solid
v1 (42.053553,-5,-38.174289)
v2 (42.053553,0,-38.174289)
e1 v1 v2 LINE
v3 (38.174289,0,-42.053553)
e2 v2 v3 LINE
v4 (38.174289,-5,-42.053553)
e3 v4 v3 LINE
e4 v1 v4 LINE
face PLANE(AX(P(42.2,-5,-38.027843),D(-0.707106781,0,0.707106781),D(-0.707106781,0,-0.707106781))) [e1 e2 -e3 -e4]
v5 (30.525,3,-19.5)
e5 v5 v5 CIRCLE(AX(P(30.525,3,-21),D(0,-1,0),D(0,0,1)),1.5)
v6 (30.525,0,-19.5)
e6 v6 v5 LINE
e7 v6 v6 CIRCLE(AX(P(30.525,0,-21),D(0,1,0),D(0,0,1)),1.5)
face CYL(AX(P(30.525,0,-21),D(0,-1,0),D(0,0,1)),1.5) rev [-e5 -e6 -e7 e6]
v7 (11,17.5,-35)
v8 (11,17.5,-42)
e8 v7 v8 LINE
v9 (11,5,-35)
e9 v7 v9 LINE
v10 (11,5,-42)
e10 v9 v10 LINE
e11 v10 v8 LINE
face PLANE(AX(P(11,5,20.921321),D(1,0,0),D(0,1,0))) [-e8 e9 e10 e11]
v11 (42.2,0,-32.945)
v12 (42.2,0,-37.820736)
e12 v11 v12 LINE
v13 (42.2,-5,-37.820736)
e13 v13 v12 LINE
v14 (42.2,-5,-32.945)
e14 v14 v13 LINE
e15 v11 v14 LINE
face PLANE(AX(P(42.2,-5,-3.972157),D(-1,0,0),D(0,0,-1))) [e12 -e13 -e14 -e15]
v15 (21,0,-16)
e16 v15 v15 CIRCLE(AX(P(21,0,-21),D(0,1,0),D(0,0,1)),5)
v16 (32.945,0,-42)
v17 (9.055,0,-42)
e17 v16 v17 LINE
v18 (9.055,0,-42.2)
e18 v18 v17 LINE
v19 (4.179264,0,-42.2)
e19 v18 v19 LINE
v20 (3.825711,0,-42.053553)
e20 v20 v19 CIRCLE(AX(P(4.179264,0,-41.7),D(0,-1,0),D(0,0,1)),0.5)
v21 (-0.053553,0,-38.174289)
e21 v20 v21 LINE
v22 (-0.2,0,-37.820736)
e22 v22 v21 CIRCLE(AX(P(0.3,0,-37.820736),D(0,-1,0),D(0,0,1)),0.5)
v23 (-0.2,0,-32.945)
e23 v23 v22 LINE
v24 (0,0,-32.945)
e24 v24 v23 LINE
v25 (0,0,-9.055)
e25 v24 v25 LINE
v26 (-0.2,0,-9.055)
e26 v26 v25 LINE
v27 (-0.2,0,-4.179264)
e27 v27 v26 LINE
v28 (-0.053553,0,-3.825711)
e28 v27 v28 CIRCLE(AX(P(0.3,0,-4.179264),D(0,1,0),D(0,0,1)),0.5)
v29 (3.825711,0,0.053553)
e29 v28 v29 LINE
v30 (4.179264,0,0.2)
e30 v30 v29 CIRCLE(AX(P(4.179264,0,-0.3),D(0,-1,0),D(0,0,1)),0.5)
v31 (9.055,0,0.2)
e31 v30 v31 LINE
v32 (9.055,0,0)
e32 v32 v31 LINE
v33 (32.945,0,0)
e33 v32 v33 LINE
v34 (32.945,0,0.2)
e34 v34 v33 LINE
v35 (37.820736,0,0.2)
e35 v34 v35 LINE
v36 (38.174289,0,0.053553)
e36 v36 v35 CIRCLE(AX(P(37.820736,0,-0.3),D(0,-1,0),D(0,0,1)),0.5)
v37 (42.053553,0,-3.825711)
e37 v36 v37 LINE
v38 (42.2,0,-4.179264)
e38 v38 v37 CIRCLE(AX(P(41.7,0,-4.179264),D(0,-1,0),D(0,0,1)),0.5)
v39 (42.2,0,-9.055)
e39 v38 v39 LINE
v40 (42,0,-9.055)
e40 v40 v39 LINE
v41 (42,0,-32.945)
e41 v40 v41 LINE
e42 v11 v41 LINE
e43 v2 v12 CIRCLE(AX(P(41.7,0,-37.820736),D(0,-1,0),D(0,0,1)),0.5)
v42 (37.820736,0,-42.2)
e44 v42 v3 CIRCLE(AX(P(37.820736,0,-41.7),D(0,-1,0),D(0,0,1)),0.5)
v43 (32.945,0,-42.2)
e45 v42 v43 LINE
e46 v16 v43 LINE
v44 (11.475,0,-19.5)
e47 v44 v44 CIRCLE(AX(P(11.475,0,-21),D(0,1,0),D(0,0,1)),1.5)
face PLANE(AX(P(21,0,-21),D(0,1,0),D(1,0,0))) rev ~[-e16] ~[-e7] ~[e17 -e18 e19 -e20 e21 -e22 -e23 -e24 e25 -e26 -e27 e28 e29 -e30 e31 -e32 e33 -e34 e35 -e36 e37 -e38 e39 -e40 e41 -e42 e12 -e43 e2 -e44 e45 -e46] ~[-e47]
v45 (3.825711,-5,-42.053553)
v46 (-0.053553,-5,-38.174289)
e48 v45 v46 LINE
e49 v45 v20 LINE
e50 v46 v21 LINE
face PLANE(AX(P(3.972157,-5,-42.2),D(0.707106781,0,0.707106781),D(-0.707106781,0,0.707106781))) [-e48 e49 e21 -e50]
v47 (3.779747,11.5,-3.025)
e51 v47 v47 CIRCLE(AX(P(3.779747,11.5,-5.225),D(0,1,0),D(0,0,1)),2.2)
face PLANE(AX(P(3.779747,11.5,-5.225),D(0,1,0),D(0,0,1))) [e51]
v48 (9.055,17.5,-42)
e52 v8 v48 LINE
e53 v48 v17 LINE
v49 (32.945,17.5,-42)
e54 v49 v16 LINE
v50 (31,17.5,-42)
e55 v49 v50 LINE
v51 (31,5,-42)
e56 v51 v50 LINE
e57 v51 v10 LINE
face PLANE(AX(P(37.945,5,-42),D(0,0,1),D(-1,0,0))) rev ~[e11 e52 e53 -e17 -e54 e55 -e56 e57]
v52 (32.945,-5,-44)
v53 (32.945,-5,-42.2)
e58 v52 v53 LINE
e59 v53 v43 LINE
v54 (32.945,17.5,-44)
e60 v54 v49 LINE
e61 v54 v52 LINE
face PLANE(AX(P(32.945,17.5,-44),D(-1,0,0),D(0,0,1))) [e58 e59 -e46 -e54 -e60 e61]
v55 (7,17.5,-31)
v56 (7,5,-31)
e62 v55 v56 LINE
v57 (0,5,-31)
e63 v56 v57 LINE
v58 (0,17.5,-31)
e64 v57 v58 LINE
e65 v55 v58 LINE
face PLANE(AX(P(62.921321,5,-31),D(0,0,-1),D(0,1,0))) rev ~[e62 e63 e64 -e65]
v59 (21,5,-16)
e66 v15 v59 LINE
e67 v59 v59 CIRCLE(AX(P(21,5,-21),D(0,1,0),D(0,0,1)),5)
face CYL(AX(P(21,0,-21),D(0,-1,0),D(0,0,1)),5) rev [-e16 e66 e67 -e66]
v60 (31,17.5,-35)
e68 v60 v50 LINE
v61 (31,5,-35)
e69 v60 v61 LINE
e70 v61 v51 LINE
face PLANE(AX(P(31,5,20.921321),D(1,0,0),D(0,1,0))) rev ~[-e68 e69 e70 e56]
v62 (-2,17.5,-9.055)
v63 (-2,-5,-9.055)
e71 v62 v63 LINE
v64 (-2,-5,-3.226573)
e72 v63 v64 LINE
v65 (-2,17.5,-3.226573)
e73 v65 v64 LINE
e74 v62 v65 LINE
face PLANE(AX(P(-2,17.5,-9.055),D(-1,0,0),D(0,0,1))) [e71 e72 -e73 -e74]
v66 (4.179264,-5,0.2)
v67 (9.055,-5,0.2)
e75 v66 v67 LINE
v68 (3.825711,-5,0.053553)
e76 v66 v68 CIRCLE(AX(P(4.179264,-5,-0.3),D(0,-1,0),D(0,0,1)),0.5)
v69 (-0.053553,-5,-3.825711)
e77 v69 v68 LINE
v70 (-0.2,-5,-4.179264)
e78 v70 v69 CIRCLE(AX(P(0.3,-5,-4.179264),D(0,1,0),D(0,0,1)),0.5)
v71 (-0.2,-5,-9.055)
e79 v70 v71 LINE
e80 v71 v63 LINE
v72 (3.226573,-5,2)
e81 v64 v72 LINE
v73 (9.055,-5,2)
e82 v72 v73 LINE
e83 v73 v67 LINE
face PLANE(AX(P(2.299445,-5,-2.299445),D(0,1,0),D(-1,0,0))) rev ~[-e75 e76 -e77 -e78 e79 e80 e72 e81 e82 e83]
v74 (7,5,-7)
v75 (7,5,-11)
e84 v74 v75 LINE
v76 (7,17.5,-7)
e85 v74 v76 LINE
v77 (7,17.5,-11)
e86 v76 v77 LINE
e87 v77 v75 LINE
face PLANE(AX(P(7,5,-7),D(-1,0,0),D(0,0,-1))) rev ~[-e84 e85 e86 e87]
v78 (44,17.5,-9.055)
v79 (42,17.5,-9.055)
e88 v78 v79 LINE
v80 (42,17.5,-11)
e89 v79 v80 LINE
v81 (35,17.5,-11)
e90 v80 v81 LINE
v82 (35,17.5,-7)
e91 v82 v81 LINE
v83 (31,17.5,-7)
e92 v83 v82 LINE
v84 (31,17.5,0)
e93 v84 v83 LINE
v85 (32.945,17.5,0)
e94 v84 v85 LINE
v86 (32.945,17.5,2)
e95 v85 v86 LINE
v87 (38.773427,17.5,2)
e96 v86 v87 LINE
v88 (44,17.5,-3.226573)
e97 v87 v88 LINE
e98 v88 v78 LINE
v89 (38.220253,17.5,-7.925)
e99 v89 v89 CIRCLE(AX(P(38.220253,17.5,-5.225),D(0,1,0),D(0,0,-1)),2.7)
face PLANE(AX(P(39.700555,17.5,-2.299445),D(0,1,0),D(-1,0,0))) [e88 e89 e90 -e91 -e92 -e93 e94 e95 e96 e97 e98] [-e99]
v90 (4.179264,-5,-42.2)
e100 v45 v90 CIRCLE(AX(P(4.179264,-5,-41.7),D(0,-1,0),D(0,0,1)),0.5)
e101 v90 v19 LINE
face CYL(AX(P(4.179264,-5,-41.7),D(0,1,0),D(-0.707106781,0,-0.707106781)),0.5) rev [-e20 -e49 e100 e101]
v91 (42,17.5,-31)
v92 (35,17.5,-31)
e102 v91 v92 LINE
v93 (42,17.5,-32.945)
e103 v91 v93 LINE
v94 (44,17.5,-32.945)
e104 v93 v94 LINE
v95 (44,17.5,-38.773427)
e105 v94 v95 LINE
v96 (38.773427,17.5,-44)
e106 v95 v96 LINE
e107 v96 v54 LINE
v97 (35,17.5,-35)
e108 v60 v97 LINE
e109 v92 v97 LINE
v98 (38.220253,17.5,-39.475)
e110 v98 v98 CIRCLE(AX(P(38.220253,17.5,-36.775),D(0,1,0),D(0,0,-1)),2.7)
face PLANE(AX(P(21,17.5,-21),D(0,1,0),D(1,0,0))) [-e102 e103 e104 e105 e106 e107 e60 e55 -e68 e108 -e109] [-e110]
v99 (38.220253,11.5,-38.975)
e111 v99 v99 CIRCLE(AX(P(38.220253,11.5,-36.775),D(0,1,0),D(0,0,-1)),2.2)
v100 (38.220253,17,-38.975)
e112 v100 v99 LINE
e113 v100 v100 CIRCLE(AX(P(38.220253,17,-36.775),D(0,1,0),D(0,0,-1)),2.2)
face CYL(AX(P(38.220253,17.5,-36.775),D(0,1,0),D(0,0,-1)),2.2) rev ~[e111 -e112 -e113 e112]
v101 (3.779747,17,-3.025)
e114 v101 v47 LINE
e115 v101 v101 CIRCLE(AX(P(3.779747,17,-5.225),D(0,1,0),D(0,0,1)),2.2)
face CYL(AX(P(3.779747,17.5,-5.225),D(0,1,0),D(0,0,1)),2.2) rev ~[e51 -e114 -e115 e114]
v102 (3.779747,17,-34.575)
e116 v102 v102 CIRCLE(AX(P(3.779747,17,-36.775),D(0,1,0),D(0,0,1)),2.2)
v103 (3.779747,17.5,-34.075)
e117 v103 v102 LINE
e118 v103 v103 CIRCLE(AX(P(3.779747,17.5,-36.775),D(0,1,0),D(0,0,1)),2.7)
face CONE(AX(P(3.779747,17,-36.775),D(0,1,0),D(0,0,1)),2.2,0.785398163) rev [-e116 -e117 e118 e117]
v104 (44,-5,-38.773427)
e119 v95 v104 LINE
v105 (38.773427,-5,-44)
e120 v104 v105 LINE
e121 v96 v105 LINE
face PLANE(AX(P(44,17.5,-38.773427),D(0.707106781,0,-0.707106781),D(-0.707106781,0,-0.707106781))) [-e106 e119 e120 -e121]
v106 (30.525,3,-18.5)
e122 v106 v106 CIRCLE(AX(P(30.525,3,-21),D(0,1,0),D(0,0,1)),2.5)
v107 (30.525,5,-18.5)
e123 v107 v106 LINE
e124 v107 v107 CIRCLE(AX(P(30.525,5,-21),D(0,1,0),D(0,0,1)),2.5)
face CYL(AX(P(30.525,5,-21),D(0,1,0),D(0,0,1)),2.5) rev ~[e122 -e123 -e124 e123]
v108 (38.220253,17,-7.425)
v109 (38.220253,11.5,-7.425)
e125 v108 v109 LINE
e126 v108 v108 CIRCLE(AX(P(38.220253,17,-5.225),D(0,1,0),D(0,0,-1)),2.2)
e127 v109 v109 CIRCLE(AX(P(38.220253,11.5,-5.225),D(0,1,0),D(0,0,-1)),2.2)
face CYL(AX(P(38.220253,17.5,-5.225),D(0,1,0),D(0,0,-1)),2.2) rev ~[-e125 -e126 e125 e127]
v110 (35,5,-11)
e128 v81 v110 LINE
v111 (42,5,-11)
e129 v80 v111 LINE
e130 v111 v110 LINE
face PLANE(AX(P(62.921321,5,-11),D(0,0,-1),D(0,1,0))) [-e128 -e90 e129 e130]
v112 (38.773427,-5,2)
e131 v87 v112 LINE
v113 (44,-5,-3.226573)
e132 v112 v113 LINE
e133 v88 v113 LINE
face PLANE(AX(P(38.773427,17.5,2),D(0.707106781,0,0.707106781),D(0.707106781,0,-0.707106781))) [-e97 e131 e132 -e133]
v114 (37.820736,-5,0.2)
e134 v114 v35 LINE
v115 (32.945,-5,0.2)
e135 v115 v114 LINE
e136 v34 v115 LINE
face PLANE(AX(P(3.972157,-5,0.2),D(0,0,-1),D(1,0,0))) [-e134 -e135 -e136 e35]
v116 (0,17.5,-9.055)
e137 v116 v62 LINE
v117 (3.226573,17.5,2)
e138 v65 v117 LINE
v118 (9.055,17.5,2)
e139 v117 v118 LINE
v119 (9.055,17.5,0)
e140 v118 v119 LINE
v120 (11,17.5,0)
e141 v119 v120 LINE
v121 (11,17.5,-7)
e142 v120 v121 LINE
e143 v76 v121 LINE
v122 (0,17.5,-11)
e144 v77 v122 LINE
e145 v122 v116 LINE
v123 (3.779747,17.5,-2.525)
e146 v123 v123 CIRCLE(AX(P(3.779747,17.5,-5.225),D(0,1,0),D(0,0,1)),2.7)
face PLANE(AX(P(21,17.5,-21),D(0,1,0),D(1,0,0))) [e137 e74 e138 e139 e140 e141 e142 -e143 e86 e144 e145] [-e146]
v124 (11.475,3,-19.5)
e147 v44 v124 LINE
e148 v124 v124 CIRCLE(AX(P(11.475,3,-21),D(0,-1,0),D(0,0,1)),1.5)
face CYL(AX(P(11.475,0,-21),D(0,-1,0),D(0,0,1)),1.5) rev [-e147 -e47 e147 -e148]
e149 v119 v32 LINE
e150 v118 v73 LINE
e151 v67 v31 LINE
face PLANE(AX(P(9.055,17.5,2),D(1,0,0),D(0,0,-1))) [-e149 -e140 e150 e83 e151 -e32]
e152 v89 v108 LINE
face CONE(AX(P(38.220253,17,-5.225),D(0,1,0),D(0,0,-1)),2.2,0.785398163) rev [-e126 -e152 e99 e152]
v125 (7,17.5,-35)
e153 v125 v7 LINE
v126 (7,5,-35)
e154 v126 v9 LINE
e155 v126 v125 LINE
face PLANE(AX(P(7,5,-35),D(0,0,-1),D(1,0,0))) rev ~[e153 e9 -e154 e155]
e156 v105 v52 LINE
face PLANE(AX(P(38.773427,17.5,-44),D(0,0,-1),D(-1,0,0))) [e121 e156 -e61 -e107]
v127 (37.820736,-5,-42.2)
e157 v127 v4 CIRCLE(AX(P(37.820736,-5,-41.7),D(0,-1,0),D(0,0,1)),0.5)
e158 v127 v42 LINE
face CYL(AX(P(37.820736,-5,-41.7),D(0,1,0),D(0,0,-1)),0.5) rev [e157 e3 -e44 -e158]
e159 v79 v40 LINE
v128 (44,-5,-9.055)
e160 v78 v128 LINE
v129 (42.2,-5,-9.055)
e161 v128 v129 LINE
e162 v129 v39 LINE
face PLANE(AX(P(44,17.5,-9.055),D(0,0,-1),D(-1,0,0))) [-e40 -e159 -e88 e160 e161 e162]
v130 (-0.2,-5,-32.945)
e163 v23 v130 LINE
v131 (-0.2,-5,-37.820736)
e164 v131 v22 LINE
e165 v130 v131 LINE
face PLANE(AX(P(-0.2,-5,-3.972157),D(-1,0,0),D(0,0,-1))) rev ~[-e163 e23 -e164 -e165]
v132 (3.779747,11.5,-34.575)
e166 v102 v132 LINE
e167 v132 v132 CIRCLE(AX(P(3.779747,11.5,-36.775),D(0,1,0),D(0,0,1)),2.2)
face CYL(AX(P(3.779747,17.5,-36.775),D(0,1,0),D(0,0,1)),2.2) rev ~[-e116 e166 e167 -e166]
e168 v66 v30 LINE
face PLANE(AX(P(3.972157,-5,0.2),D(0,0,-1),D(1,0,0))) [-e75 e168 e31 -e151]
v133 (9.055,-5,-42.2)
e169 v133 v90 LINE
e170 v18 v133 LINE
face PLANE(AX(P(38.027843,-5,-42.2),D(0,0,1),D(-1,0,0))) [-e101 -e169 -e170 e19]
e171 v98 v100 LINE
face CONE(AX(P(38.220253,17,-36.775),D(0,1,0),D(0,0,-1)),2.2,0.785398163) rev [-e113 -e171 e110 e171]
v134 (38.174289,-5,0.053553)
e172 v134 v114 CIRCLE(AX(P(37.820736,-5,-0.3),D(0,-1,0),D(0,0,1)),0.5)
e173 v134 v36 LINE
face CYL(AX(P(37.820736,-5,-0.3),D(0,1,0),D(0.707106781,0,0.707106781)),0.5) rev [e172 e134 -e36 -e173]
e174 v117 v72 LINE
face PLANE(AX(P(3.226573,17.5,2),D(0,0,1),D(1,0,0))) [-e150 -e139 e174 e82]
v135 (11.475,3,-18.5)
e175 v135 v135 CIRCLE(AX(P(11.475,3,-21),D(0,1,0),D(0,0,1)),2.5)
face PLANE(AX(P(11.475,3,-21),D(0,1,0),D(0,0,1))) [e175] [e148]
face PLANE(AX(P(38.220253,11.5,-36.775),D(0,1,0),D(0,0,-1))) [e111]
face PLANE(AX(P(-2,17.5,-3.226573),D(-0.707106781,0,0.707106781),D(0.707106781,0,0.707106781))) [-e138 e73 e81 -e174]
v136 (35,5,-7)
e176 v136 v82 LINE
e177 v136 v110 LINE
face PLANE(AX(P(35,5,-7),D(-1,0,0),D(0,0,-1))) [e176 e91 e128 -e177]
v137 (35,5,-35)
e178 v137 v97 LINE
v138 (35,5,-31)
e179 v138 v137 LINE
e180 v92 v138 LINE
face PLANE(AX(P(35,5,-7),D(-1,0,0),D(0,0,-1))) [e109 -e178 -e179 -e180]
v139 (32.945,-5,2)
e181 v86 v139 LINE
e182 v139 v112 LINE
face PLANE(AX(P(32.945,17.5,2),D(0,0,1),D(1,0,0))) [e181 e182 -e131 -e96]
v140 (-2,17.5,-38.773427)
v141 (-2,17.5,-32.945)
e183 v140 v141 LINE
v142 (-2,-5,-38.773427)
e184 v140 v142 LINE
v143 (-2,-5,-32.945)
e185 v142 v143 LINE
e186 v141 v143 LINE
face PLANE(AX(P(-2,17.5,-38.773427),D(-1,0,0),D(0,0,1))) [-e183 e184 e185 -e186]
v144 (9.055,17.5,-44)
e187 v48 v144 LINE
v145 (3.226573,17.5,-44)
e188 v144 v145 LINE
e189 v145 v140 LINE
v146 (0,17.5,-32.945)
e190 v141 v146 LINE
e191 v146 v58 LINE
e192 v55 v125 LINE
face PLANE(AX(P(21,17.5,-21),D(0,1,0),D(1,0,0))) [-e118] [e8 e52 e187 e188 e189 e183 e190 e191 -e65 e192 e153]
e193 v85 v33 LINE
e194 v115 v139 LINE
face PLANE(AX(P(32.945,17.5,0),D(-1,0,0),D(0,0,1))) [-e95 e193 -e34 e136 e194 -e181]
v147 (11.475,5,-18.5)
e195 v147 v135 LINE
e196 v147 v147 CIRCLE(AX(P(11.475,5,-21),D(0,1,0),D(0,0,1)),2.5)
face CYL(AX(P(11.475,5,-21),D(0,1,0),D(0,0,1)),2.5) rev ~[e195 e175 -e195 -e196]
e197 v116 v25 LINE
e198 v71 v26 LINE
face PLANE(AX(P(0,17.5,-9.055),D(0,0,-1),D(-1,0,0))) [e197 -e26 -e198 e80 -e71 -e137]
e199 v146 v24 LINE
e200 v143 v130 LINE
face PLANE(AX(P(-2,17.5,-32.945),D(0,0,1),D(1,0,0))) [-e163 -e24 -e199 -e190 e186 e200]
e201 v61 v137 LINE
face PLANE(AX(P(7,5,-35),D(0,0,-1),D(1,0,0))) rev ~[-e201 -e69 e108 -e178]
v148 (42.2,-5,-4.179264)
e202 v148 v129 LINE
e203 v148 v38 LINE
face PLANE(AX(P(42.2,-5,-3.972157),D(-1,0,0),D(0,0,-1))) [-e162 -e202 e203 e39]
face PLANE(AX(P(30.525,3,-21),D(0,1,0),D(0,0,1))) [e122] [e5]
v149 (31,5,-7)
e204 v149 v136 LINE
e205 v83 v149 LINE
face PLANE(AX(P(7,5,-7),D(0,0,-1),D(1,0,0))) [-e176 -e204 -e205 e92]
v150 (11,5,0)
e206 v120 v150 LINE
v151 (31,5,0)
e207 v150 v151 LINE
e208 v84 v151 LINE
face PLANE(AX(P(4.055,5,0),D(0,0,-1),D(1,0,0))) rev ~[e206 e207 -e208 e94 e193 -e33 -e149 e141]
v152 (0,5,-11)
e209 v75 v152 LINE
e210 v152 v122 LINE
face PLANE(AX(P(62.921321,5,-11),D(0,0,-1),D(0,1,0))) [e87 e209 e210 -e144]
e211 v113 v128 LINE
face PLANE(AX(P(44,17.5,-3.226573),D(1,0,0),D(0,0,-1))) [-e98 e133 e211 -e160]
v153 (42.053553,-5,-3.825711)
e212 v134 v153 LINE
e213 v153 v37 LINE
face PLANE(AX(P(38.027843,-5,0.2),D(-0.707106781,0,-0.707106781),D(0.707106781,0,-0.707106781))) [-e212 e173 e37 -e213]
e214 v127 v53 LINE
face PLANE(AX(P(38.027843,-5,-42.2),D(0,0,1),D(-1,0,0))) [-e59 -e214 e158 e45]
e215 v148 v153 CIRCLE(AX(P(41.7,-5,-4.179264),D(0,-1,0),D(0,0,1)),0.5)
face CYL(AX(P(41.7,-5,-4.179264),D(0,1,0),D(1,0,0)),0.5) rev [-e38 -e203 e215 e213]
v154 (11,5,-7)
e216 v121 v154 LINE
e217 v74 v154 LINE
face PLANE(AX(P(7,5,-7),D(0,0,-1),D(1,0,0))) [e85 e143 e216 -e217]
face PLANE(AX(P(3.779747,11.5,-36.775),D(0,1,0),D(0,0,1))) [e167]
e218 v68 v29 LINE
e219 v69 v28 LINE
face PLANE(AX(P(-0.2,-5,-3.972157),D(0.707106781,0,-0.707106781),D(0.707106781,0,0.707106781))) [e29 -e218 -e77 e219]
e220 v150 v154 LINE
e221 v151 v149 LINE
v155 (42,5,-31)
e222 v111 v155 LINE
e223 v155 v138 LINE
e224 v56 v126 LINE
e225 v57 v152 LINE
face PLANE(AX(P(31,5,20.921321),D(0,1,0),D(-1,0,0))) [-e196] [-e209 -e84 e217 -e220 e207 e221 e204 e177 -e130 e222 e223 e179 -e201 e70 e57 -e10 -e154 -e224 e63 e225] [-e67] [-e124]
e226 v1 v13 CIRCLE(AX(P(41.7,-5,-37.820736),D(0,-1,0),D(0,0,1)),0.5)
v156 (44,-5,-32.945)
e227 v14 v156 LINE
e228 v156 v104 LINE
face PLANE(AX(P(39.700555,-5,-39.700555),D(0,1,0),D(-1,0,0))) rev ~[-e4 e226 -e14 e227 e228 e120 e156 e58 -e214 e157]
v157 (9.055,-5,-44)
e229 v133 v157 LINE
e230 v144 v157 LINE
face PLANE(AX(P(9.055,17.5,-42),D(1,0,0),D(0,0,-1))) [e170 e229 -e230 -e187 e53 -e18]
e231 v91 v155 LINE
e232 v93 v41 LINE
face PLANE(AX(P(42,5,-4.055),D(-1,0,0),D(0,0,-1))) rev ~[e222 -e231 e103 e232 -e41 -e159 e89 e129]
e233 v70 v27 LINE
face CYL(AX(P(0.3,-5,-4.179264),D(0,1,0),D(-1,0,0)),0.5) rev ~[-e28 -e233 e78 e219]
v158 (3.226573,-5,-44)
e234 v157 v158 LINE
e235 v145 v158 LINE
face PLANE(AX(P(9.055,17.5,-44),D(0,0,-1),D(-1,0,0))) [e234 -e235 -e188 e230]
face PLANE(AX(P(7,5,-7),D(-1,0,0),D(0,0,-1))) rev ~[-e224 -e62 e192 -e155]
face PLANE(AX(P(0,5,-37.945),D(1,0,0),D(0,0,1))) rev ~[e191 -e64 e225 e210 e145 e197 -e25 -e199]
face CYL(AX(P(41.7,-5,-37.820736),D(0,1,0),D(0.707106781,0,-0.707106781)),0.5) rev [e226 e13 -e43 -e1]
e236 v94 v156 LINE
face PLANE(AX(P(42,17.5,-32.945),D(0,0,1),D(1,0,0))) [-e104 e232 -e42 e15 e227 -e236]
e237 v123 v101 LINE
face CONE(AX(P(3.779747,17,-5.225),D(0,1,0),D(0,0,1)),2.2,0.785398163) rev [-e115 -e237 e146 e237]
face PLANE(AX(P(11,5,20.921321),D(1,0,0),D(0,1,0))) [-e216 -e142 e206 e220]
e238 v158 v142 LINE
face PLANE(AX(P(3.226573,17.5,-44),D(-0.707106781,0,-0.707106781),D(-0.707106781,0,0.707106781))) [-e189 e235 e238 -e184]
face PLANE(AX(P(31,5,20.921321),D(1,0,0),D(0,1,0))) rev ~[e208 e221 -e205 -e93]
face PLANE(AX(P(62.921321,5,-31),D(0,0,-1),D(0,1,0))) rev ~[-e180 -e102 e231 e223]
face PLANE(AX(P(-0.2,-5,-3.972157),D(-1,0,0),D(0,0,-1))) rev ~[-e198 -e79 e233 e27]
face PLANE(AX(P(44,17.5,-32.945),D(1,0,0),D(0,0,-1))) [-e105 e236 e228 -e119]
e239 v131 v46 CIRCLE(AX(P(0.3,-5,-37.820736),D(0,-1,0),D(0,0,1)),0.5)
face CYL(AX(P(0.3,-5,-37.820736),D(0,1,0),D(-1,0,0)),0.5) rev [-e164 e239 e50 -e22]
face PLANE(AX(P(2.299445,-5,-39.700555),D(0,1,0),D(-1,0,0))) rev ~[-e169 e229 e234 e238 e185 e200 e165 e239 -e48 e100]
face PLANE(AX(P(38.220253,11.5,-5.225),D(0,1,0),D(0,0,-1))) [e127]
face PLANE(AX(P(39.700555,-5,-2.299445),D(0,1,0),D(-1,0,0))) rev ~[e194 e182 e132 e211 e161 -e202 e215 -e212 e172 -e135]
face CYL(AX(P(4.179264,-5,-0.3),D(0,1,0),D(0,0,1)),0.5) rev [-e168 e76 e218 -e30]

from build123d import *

# Parameters (mm, degrees)
SKETCH1_R               = 1.5
SKETCH1_R_2             = 5
BOSS_EXTRUDE1_DEPTH     = 5
SKETCH2_W               = 28
SKETCH2_H               = 28
BOSS_EXTRUDE2_DEPTH     = 12.5
SKETCH3_R               = 2.2
CUT_EXTRUDE1_DEPTH      = 6
CUT_EXTRUDE2_DEPTH      = 62.921321045
CUT_EXTRUDE2_DEPTH_BACK = 62.921321045
SKETCH4_W               = 20
SKETCH4_H               = 23.078544061
CUT_EXTRUDE3_DEPTH      = 62.921321045
CUT_EXTRUDE3_DEPTH_BACK = 62.921321045
SKETCH5_W               = 20
SKETCH5_H               = 13.366359074
BOSS_EXTRUDE3_START     = -17.5
BOSS_EXTRUDE3_DEPTH     = 22.5
SKETCH8_R               = 2.5
CUT_EXTRUDE4_DEPTH      = 2
CUT_EXTRUDE5_DEPTH      = 5
FILLET1_R               = 0.5
CHAMFER1_SIZE           = 0.5


with BuildPart() as part:
    # Sketch1 → Boss-Extrude1 (new body)
    with BuildSketch(Plane(origin=(0, 0, 0), x_dir=(1, 0, 0), z_dir=(0, 1, 0))):
        Polygon((4.055, 0), (37.945, 0), (42, 4.055), (42, 37.945), (37.945, 42), (4.055, 42), (0, 37.945), (0, 4.055), align=None)
        with Locations(Location((11.475, 21, 0), (0, 0, 270))):
            Circle(SKETCH1_R, mode=Mode.SUBTRACT)
        with Locations(Location((30.525, 21, 0), (0, 0, 270))):
            Circle(SKETCH1_R, mode=Mode.SUBTRACT)
        with Locations(Location((21, 21, 0), (0, 0, 270))):
            Circle(SKETCH1_R_2, mode=Mode.SUBTRACT)
    extrude(amount=BOSS_EXTRUDE1_DEPTH)

    # Sketch2 → Boss-Extrude2 (add)
    with BuildSketch(Plane(origin=(0, 5, 0), x_dir=(1, 0, 0), z_dir=(0, 1, 0))):
        Polygon((37.945, 42), (4.055, 42), (0, 37.945), (0, 4.055), (4.055, 0), (37.945, 0), (42, 4.055), (42, 37.945), align=None)
        with Locations((21, 21)):
            Rectangle(SKETCH2_W, SKETCH2_H, mode=Mode.SUBTRACT)
    extrude(amount=BOSS_EXTRUDE2_DEPTH)

    # Sketch3 → Cut-Extrude1 (cut)
    with BuildSketch(Plane(origin=(0, 17.5, 0), x_dir=(1, 0, 0), z_dir=(0, 1, 0))):
        with Locations(Location((3.779747468, 36.775, 0), (0, 0, 270))):
            Circle(SKETCH3_R)
        with Locations(Location((3.779747468, 5.225, 0), (0, 0, 270))):
            Circle(SKETCH3_R)
        with Locations(Location((38.220252532, 5.225, 0), (0, 0, 90))):
            Circle(SKETCH3_R)
        with Locations(Location((38.220252532, 36.775, 0), (0, 0, 90))):
            Circle(SKETCH3_R)
    extrude(amount=-CUT_EXTRUDE1_DEPTH, mode=Mode.SUBTRACT)

    # Sketch4 → Cut-Extrude2 (cut, two sides: drawn at the far end of the back side and taken through both)
    with BuildSketch(Plane.ZY.offset(-CUT_EXTRUDE2_DEPTH_BACK)):
        with Locations((-21, 16.539272031)):
            Rectangle(SKETCH4_W, SKETCH4_H)
    extrude(amount=CUT_EXTRUDE2_DEPTH + CUT_EXTRUDE2_DEPTH_BACK, mode=Mode.SUBTRACT)

    # Sketch5 → Cut-Extrude3 (cut, two sides: drawn at the far end of the back side and taken through both)
    with BuildSketch(Plane(origin=(0, 0, -42), x_dir=(-1, 0, 0), z_dir=(0, 0, -1)).offset(-CUT_EXTRUDE3_DEPTH_BACK)):
        with Locations((-21, 11.683179537)):
            Rectangle(SKETCH5_W, SKETCH5_H)
    extrude(amount=CUT_EXTRUDE3_DEPTH + CUT_EXTRUDE3_DEPTH_BACK, mode=Mode.SUBTRACT)

    # Sketch7 → Boss-Extrude3 (add)
    with BuildSketch(Plane.XZ.offset(BOSS_EXTRUDE3_START)):
        Polygon((37.945, 0), (32.945, 0), (32.945, 2), (38.773427125, 2), (44, -3.226572875), (44, -9.055), (42, -9.055), (42, -4.055), align=None)
        Polygon((4.055, 0), (0, -4.055), (0, -9.055), (-2, -9.055), (-2, -3.226572875), (3.226572875, 2), (9.055, 2), (9.055, 0), align=None)
        Polygon((0, -37.945), (4.055, -42), (9.055, -42), (9.055, -44), (3.226572875, -44), (-2, -38.773427125), (-2, -32.945), (0, -32.945), align=None)
        Polygon((37.945, -42), (42, -37.945), (42, -32.945), (44, -32.945), (44, -38.773427125), (38.773427125, -44), (32.945, -44), (32.945, -42), align=None)
    extrude(amount=BOSS_EXTRUDE3_DEPTH)

    # Sketch8 → Cut-Extrude4 (cut)
    with BuildSketch(Plane(origin=(0, 5, 0), x_dir=(1, 0, 0), z_dir=(0, 1, 0))):
        with Locations(Location((11.475, 21, 0), (0, 0, 270))):
            Circle(SKETCH8_R)
        with Locations(Location((30.525, 21, 0), (0, 0, 270))):
            Circle(SKETCH8_R)
    extrude(amount=-CUT_EXTRUDE4_DEPTH, mode=Mode.SUBTRACT)

    # Sketch9 → Cut-Extrude5 (cut)
    with BuildSketch(Plane.XZ.offset(5)):
        Polygon((-0.2, -9.055), (-0.2, -3.972157288), (3.972157288, 0.2), (38.027842712, 0.2), (42.2, -3.972157288), (42.2, -38.027842712), (38.027842712, -42.2), (3.972157288, -42.2), (-0.2, -38.027842712), align=None)
    extrude(amount=-CUT_EXTRUDE5_DEPTH, mode=Mode.SUBTRACT)

    # Fillet1
    fillet1_edges = [part.edges().sort_by_distance(p)[0] for p in [
        (3.972157288, -2.5, 0.2),
        (-0.2, -2.5, -38.027842712),
        (-0.2, -2.5, -3.972157288),
        (38.027842712, -2.5, 0.2),
        (42.2, -2.5, -3.972157288),
        (42.2, -2.5, -38.027842712),
        (38.027842712, -2.5, -42.2),
        (3.972157288, -2.5, -42.2),
    ]]
    fillet(fillet1_edges, radius=FILLET1_R)

    # Chamfer1
    chamfer1_edges = [part.edges().sort_by_distance(p)[0] for p in [
        (38.220252532, 17.5, -34.575),
        (38.220252532, 17.5, -3.025),
        (3.779747468, 17.5, -7.425),
        (3.779747468, 17.5, -38.975),
    ]]
    chamfer(chamfer1_edges, length=CHAMFER1_SIZE)


solid = part.part
